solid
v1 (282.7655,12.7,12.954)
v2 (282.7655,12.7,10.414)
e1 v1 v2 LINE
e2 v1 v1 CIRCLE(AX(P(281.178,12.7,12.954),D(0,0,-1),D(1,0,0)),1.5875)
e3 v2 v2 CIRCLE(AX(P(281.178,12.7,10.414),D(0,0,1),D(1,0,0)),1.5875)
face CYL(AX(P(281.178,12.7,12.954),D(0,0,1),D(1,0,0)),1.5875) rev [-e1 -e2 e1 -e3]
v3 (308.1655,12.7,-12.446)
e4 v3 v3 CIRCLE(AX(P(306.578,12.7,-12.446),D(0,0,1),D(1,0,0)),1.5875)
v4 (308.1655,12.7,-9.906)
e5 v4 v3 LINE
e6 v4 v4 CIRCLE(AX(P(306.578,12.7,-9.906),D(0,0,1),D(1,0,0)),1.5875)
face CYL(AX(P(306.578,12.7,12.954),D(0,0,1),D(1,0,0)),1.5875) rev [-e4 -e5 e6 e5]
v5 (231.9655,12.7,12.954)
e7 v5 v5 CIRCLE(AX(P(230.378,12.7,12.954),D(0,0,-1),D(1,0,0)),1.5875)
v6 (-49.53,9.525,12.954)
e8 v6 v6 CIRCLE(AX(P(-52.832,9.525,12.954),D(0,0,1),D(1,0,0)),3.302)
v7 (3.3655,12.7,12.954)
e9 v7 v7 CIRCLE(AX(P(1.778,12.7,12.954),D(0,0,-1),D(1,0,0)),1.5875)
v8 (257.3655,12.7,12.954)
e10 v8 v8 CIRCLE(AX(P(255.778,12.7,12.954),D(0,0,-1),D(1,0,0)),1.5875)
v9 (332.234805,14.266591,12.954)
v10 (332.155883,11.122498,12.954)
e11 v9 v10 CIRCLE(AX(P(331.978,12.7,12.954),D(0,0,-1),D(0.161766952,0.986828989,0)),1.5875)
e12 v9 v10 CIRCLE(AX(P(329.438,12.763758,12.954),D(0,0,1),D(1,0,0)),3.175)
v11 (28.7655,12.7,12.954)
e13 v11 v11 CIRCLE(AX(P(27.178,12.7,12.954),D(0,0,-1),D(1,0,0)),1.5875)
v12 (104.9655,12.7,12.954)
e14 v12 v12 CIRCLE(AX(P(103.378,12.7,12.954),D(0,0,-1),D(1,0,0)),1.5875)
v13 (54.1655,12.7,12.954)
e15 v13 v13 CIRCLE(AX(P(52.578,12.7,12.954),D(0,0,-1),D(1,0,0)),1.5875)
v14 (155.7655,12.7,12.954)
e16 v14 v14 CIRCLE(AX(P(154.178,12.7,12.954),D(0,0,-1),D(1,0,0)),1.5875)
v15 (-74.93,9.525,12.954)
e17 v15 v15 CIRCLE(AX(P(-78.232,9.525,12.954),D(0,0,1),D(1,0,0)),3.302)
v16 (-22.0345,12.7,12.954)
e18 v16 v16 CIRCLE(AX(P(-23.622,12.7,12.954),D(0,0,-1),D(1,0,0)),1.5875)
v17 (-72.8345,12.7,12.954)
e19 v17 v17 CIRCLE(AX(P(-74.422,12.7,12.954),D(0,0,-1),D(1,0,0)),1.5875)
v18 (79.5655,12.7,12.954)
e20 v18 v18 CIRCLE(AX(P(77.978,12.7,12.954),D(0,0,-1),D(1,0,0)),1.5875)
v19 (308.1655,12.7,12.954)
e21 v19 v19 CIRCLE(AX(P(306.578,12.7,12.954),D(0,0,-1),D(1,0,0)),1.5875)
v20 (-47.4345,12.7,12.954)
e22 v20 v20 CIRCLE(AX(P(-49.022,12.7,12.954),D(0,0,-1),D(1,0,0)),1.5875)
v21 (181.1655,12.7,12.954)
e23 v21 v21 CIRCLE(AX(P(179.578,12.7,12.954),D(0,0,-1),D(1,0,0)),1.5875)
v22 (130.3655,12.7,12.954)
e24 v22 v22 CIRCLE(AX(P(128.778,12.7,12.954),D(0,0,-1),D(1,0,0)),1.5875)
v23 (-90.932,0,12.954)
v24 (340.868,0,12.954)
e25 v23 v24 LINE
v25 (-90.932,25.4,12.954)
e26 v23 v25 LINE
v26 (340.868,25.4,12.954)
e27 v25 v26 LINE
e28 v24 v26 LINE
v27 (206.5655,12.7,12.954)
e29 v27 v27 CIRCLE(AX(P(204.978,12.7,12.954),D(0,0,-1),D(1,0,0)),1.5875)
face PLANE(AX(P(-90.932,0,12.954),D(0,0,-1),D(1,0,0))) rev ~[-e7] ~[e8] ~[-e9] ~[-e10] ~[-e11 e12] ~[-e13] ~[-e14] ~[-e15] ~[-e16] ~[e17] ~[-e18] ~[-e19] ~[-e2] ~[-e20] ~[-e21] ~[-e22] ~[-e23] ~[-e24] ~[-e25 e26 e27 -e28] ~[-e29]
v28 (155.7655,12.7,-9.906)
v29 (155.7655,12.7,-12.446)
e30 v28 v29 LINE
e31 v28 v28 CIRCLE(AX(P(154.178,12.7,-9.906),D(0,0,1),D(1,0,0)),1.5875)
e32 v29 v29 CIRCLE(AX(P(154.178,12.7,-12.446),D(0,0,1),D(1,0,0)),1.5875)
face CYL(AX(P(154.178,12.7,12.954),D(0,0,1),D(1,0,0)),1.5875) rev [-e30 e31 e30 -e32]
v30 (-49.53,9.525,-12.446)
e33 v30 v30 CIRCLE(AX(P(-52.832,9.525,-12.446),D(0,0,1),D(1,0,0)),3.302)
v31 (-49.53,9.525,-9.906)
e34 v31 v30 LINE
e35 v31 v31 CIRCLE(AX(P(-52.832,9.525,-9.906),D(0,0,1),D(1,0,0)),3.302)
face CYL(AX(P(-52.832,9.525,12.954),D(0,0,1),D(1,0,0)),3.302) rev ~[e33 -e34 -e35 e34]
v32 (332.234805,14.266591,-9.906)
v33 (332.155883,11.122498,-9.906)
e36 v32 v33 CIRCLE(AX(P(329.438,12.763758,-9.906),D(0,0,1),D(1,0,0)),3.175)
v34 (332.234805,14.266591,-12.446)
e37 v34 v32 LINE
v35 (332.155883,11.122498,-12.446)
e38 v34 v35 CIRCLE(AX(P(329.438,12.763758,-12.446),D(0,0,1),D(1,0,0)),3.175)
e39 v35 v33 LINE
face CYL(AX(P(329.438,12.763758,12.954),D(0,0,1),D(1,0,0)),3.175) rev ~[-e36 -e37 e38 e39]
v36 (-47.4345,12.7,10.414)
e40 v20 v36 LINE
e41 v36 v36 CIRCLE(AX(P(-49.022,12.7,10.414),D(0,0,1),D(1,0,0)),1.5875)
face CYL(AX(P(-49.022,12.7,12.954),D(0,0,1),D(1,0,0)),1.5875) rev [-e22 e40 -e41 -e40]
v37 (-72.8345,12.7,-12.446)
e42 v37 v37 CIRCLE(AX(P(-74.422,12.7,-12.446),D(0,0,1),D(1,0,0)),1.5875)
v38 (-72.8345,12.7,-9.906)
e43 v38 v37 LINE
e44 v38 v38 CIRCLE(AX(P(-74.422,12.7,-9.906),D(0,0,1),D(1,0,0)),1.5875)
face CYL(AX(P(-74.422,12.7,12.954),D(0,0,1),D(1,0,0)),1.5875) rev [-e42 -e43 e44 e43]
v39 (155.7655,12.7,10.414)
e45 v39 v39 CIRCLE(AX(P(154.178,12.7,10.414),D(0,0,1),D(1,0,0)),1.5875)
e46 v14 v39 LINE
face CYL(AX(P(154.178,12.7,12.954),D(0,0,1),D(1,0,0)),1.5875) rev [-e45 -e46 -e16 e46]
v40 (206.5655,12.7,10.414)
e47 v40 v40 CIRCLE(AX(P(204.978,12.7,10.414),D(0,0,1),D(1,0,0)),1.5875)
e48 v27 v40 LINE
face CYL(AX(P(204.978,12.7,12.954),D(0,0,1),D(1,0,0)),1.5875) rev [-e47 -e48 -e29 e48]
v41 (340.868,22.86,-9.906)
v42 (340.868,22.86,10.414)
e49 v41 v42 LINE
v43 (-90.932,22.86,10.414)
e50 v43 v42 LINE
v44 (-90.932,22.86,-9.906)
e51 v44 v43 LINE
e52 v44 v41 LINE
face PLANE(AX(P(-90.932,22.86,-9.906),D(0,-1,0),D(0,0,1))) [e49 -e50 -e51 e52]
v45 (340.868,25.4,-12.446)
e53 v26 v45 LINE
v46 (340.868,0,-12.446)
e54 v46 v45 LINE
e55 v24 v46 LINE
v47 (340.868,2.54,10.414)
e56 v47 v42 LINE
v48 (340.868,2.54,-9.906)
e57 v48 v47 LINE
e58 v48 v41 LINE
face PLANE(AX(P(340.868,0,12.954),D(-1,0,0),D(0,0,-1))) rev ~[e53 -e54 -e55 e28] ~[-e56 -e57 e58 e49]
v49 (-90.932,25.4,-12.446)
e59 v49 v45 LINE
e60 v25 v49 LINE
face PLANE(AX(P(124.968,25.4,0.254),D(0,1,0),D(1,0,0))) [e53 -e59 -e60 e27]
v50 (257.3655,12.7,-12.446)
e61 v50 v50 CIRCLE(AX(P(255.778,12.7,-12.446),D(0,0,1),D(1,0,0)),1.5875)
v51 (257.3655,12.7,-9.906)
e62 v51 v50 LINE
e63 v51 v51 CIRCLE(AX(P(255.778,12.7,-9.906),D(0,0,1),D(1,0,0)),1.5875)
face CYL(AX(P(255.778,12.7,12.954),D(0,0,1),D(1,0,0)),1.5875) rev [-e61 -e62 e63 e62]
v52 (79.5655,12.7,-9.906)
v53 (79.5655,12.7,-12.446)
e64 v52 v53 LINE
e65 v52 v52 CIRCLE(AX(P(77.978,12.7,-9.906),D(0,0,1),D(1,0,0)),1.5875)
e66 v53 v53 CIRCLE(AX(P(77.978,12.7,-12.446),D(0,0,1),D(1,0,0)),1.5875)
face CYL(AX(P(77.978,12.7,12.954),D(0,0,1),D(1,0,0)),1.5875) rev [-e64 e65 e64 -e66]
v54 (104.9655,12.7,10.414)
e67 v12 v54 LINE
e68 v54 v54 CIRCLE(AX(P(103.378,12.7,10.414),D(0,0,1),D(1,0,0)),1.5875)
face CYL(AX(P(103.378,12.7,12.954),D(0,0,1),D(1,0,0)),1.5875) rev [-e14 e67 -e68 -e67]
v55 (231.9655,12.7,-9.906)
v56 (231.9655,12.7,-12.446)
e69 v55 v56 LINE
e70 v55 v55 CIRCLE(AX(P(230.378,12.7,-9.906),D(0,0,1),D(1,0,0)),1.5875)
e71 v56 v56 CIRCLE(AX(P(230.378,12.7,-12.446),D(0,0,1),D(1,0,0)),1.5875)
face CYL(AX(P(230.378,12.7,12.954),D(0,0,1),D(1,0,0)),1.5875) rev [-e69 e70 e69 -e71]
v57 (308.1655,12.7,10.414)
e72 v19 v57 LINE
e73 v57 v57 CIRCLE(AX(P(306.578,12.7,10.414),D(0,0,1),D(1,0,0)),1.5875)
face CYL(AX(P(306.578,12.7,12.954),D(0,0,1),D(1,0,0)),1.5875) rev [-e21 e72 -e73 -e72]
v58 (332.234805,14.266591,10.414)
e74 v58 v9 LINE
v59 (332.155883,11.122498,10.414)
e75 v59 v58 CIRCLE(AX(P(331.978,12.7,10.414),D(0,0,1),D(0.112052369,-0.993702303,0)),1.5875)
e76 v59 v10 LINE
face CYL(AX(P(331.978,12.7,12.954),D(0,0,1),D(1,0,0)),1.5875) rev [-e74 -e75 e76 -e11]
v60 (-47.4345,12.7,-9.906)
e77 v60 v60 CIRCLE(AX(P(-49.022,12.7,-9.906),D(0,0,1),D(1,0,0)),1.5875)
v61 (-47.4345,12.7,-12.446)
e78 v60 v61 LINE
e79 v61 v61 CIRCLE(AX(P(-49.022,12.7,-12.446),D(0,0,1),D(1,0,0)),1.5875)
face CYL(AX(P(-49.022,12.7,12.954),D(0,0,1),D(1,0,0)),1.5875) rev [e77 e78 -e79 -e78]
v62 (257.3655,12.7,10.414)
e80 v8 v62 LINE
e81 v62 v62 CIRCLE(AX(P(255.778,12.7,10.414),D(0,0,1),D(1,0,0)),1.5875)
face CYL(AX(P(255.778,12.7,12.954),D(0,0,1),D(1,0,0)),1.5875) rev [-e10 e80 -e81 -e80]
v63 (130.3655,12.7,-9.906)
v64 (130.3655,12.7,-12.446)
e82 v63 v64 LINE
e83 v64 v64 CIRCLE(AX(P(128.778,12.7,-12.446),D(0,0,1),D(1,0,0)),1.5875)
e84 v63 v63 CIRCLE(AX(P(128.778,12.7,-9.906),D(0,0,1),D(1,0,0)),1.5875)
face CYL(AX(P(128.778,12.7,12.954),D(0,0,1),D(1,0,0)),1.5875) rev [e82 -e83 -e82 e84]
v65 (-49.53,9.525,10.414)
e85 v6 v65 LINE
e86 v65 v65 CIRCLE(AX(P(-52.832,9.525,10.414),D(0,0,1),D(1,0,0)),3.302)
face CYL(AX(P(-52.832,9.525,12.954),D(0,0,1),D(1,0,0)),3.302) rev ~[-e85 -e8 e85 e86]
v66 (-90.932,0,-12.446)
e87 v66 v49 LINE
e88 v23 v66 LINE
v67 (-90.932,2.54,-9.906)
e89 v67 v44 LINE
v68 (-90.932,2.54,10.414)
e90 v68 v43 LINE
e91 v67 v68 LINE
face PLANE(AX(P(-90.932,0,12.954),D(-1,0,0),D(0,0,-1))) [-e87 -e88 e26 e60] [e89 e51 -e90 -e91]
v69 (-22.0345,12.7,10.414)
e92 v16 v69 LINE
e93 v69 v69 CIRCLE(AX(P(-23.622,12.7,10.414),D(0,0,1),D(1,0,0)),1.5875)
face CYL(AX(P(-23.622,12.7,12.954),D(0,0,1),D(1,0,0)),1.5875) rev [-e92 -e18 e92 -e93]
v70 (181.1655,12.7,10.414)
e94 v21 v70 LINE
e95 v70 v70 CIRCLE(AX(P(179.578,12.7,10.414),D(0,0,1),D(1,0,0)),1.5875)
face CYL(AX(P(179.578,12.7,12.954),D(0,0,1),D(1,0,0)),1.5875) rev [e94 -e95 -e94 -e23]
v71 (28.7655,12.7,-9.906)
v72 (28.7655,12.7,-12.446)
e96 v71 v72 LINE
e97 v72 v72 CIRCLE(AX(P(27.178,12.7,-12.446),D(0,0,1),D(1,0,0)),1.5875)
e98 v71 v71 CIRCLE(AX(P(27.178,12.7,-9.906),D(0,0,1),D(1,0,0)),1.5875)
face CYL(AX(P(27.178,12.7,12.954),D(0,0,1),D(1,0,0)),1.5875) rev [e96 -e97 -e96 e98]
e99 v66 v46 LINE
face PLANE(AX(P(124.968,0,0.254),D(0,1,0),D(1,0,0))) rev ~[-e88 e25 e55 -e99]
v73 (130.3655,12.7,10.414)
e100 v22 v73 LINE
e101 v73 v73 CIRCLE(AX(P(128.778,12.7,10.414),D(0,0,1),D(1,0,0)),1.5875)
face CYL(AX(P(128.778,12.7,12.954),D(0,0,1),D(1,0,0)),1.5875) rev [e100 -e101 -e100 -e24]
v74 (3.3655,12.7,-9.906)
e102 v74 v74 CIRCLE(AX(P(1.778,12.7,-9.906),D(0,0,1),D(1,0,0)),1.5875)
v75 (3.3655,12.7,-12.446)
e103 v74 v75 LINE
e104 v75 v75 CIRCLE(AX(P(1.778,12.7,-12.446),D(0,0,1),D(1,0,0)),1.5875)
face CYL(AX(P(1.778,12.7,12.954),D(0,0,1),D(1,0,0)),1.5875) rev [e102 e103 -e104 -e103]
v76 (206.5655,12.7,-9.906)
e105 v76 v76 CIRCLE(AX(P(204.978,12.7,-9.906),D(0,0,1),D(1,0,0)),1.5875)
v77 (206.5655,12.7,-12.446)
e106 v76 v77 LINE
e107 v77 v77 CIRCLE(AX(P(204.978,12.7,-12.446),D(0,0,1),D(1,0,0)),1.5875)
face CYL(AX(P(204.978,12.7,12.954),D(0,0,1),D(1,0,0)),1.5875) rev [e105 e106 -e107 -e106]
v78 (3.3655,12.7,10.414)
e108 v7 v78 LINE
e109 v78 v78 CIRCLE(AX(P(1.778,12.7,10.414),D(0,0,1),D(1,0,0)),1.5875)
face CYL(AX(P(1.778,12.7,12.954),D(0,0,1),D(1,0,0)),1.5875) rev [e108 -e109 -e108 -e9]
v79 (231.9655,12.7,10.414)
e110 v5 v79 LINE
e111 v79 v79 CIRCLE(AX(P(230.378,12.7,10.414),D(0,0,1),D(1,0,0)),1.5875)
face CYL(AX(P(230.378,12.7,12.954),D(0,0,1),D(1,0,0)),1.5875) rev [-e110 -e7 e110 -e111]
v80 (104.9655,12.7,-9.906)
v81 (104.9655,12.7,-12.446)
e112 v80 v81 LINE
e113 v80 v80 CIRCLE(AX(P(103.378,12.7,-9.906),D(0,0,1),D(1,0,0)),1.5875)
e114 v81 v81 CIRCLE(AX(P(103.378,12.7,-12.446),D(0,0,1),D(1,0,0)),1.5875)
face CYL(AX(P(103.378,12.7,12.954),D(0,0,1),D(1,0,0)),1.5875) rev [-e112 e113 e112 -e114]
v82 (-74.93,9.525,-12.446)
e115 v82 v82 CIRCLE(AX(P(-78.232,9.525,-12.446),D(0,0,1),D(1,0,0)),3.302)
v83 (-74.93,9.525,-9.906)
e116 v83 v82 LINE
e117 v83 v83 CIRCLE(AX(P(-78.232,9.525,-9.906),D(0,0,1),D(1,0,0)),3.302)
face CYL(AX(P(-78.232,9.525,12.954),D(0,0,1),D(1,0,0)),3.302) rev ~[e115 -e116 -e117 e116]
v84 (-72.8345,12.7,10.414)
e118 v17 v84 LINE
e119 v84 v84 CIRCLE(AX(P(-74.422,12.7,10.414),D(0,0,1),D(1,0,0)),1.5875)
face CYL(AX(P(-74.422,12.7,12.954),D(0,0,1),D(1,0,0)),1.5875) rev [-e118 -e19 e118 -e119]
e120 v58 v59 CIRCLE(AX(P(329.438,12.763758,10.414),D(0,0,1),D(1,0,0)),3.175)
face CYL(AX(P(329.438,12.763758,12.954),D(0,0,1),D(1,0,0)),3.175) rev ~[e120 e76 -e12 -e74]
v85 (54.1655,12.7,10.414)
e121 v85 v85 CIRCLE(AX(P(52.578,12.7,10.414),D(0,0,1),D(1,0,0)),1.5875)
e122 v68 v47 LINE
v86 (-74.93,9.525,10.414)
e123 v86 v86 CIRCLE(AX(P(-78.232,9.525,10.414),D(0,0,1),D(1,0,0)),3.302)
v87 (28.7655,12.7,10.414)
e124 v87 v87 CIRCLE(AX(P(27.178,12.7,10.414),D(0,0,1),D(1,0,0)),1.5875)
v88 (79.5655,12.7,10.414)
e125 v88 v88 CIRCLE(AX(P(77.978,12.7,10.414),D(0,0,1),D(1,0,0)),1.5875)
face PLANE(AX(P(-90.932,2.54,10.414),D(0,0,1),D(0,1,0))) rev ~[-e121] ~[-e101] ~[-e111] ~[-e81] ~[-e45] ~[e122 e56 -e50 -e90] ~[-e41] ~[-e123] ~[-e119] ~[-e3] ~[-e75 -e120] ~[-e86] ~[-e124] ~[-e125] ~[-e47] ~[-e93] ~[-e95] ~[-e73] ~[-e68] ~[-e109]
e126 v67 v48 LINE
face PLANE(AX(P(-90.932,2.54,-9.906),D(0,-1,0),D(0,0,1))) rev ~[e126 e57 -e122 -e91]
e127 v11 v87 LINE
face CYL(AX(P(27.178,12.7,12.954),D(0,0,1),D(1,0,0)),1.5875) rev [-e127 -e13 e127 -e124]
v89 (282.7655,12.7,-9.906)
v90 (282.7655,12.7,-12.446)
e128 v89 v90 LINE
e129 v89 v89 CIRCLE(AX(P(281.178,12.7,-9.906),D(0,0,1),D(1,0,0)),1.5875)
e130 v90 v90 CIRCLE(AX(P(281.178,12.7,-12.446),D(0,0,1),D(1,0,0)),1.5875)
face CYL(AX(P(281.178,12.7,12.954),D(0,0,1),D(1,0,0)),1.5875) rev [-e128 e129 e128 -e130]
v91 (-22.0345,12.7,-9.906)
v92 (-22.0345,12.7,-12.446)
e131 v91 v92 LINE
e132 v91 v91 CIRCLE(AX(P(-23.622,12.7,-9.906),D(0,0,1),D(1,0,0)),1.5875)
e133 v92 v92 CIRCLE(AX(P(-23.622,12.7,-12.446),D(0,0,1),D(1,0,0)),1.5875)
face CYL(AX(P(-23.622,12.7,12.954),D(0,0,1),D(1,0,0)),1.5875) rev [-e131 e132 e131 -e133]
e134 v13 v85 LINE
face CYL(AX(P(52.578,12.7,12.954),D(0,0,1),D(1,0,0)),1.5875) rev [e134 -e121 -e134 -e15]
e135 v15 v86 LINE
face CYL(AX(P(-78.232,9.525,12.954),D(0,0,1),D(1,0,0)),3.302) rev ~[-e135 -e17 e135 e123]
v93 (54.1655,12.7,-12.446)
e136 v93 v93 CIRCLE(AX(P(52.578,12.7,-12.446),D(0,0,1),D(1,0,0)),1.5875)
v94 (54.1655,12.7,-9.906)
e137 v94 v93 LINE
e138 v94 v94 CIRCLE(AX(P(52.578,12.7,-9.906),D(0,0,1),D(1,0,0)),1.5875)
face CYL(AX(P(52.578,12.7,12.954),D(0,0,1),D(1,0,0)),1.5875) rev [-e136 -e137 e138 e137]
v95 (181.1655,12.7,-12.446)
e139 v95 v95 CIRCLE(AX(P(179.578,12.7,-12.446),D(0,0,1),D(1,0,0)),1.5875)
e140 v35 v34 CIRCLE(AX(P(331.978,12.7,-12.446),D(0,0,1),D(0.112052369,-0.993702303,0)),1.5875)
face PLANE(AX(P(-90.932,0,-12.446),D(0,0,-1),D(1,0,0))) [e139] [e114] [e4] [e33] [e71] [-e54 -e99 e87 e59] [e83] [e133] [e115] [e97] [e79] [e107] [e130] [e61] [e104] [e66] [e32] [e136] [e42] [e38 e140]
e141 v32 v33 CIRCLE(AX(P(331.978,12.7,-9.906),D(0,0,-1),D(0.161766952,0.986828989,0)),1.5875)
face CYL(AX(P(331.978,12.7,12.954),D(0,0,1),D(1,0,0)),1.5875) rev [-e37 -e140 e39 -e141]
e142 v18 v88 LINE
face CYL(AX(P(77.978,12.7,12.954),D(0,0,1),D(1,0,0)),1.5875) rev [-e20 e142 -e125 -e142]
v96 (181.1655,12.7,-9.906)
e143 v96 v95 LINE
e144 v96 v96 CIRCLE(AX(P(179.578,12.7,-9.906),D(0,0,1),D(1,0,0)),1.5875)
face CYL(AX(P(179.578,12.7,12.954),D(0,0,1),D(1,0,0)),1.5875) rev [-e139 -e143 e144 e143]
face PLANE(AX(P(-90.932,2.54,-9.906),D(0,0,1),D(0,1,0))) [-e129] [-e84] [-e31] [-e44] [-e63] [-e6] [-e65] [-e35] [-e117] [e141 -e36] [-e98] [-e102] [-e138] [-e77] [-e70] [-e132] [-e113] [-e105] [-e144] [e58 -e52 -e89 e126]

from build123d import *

# Parameters (mm, degrees)
SKETCH1_W           = 431.8
SKETCH1_H           = 25.4
BOSS_EXTRUDE1_DEPTH = 25.4
SKETCH2_W           = 20.32
SKETCH2_H           = 20.32
CUT_EXTRUDE1_DEPTH  = 433.740344914
CUT_EXTRUDE2_REACH  = 344.058
SKETCH3_R           = 1.5875
CUT_EXTRUDE3_REACH  = 344.755
SKETCH4_R           = 3.175
SKETCH4_R_2         = 3.302


with BuildPart() as part:
    # Sketch1 → Boss-Extrude1 (new body)
    with BuildSketch(Plane(origin=(0, 0, 0), x_dir=(1, 0, 0), z_dir=(0, 1, 0))):
        with Locations((124.968, -0.254)):
            Rectangle(SKETCH1_W, SKETCH1_H)
    extrude(amount=BOSS_EXTRUDE1_DEPTH)

    # Sketch2 → Cut-Extrude1 (cut, through all)
    with BuildSketch(Plane.ZY.offset(90.932)):
        with Locations((0.254, 12.7)):
            Rectangle(SKETCH2_W, SKETCH2_H)
    extrude(amount=-CUT_EXTRUDE1_DEPTH, mode=Mode.SUBTRACT)

    # Cut-Extrude2: up to this face of the body (flat: up to its plane)
    cut_extrude2_end = Plane(part.part.faces().sort_by_distance((124.968, 12.7, -12.446))[0])
    # Sketch3 → Cut-Extrude2 (cut, up to the picked face)
    with BuildSketch(Plane(origin=(0, 12.446, 12.954), x_dir=(1, 0, 0), z_dir=(0, 0, -1)), mode=Mode.PRIVATE) as cut_extrude2_sk1:
        with Locations((-74.422, -0.254)):
            Circle(SKETCH3_R)
    cut_extrude2_tool1 = split(extrude(cut_extrude2_sk1.sketch, amount=CUT_EXTRUDE2_REACH, mode=Mode.PRIVATE), bisect_by=cut_extrude2_end, keep=Keep.BOTH, mode=Mode.PRIVATE)
    # Sketch3 → Cut-Extrude2 (cut, up to the picked face)
    with BuildSketch(Plane(origin=(0, 12.446, 12.954), x_dir=(1, 0, 0), z_dir=(0, 0, -1)), mode=Mode.PRIVATE) as cut_extrude2_sk2:
        with Locations((-49.022, -0.254)):
            Circle(SKETCH3_R)
    cut_extrude2_tool2 = split(extrude(cut_extrude2_sk2.sketch, amount=CUT_EXTRUDE2_REACH, mode=Mode.PRIVATE), bisect_by=cut_extrude2_end, keep=Keep.BOTH, mode=Mode.PRIVATE)
    # Sketch3 → Cut-Extrude2 (cut, up to the picked face)
    with BuildSketch(Plane(origin=(0, 12.446, 12.954), x_dir=(1, 0, 0), z_dir=(0, 0, -1)), mode=Mode.PRIVATE) as cut_extrude2_sk3:
        with Locations((-23.622, -0.254)):
            Circle(SKETCH3_R)
    cut_extrude2_tool3 = split(extrude(cut_extrude2_sk3.sketch, amount=CUT_EXTRUDE2_REACH, mode=Mode.PRIVATE), bisect_by=cut_extrude2_end, keep=Keep.BOTH, mode=Mode.PRIVATE)
    # Sketch3 → Cut-Extrude2 (cut, up to the picked face)
    with BuildSketch(Plane(origin=(0, 12.446, 12.954), x_dir=(1, 0, 0), z_dir=(0, 0, -1)), mode=Mode.PRIVATE) as cut_extrude2_sk4:
        with Locations((1.778, -0.254)):
            Circle(SKETCH3_R)
    cut_extrude2_tool4 = split(extrude(cut_extrude2_sk4.sketch, amount=CUT_EXTRUDE2_REACH, mode=Mode.PRIVATE), bisect_by=cut_extrude2_end, keep=Keep.BOTH, mode=Mode.PRIVATE)
    # Sketch3 → Cut-Extrude2 (cut, up to the picked face)
    with BuildSketch(Plane(origin=(0, 12.446, 12.954), x_dir=(1, 0, 0), z_dir=(0, 0, -1)), mode=Mode.PRIVATE) as cut_extrude2_sk5:
        with Locations((27.178, -0.254)):
            Circle(SKETCH3_R)
    cut_extrude2_tool5 = split(extrude(cut_extrude2_sk5.sketch, amount=CUT_EXTRUDE2_REACH, mode=Mode.PRIVATE), bisect_by=cut_extrude2_end, keep=Keep.BOTH, mode=Mode.PRIVATE)
    # Sketch3 → Cut-Extrude2 (cut, up to the picked face)
    with BuildSketch(Plane(origin=(0, 12.446, 12.954), x_dir=(1, 0, 0), z_dir=(0, 0, -1)), mode=Mode.PRIVATE) as cut_extrude2_sk6:
        with Locations((52.578, -0.254)):
            Circle(SKETCH3_R)
    cut_extrude2_tool6 = split(extrude(cut_extrude2_sk6.sketch, amount=CUT_EXTRUDE2_REACH, mode=Mode.PRIVATE), bisect_by=cut_extrude2_end, keep=Keep.BOTH, mode=Mode.PRIVATE)
    # Sketch3 → Cut-Extrude2 (cut, up to the picked face)
    with BuildSketch(Plane(origin=(0, 12.446, 12.954), x_dir=(1, 0, 0), z_dir=(0, 0, -1)), mode=Mode.PRIVATE) as cut_extrude2_sk7:
        with Locations((77.978, -0.254)):
            Circle(SKETCH3_R)
    cut_extrude2_tool7 = split(extrude(cut_extrude2_sk7.sketch, amount=CUT_EXTRUDE2_REACH, mode=Mode.PRIVATE), bisect_by=cut_extrude2_end, keep=Keep.BOTH, mode=Mode.PRIVATE)
    # Sketch3 → Cut-Extrude2 (cut, up to the picked face)
    with BuildSketch(Plane(origin=(0, 12.446, 12.954), x_dir=(1, 0, 0), z_dir=(0, 0, -1)), mode=Mode.PRIVATE) as cut_extrude2_sk8:
        with Locations((103.378, -0.254)):
            Circle(SKETCH3_R)
    cut_extrude2_tool8 = split(extrude(cut_extrude2_sk8.sketch, amount=CUT_EXTRUDE2_REACH, mode=Mode.PRIVATE), bisect_by=cut_extrude2_end, keep=Keep.BOTH, mode=Mode.PRIVATE)
    # Sketch3 → Cut-Extrude2 (cut, up to the picked face)
    with BuildSketch(Plane(origin=(0, 12.446, 12.954), x_dir=(1, 0, 0), z_dir=(0, 0, -1)), mode=Mode.PRIVATE) as cut_extrude2_sk9:
        with Locations((128.778, -0.254)):
            Circle(SKETCH3_R)
    cut_extrude2_tool9 = split(extrude(cut_extrude2_sk9.sketch, amount=CUT_EXTRUDE2_REACH, mode=Mode.PRIVATE), bisect_by=cut_extrude2_end, keep=Keep.BOTH, mode=Mode.PRIVATE)
    # Sketch3 → Cut-Extrude2 (cut, up to the picked face)
    with BuildSketch(Plane(origin=(0, 12.446, 12.954), x_dir=(1, 0, 0), z_dir=(0, 0, -1)), mode=Mode.PRIVATE) as cut_extrude2_sk10:
        with Locations((154.178, -0.254)):
            Circle(SKETCH3_R)
    cut_extrude2_tool10 = split(extrude(cut_extrude2_sk10.sketch, amount=CUT_EXTRUDE2_REACH, mode=Mode.PRIVATE), bisect_by=cut_extrude2_end, keep=Keep.BOTH, mode=Mode.PRIVATE)
    # Sketch3 → Cut-Extrude2 (cut, up to the picked face)
    with BuildSketch(Plane(origin=(0, 12.446, 12.954), x_dir=(1, 0, 0), z_dir=(0, 0, -1)), mode=Mode.PRIVATE) as cut_extrude2_sk11:
        with Locations((179.578, -0.254)):
            Circle(SKETCH3_R)
    cut_extrude2_tool11 = split(extrude(cut_extrude2_sk11.sketch, amount=CUT_EXTRUDE2_REACH, mode=Mode.PRIVATE), bisect_by=cut_extrude2_end, keep=Keep.BOTH, mode=Mode.PRIVATE)
    # Sketch3 → Cut-Extrude2 (cut, up to the picked face)
    with BuildSketch(Plane(origin=(0, 12.446, 12.954), x_dir=(1, 0, 0), z_dir=(0, 0, -1)), mode=Mode.PRIVATE) as cut_extrude2_sk12:
        with Locations((204.978, -0.254)):
            Circle(SKETCH3_R)
    cut_extrude2_tool12 = split(extrude(cut_extrude2_sk12.sketch, amount=CUT_EXTRUDE2_REACH, mode=Mode.PRIVATE), bisect_by=cut_extrude2_end, keep=Keep.BOTH, mode=Mode.PRIVATE)
    # Sketch3 → Cut-Extrude2 (cut, up to the picked face)
    with BuildSketch(Plane(origin=(0, 12.446, 12.954), x_dir=(1, 0, 0), z_dir=(0, 0, -1)), mode=Mode.PRIVATE) as cut_extrude2_sk13:
        with Locations((230.378, -0.254)):
            Circle(SKETCH3_R)
    cut_extrude2_tool13 = split(extrude(cut_extrude2_sk13.sketch, amount=CUT_EXTRUDE2_REACH, mode=Mode.PRIVATE), bisect_by=cut_extrude2_end, keep=Keep.BOTH, mode=Mode.PRIVATE)
    # Sketch3 → Cut-Extrude2 (cut, up to the picked face)
    with BuildSketch(Plane(origin=(0, 12.446, 12.954), x_dir=(1, 0, 0), z_dir=(0, 0, -1)), mode=Mode.PRIVATE) as cut_extrude2_sk14:
        with Locations((255.778, -0.254)):
            Circle(SKETCH3_R)
    cut_extrude2_tool14 = split(extrude(cut_extrude2_sk14.sketch, amount=CUT_EXTRUDE2_REACH, mode=Mode.PRIVATE), bisect_by=cut_extrude2_end, keep=Keep.BOTH, mode=Mode.PRIVATE)
    # Sketch3 → Cut-Extrude2 (cut, up to the picked face)
    with BuildSketch(Plane(origin=(0, 12.446, 12.954), x_dir=(1, 0, 0), z_dir=(0, 0, -1)), mode=Mode.PRIVATE) as cut_extrude2_sk15:
        with Locations((281.178, -0.254)):
            Circle(SKETCH3_R)
    cut_extrude2_tool15 = split(extrude(cut_extrude2_sk15.sketch, amount=CUT_EXTRUDE2_REACH, mode=Mode.PRIVATE), bisect_by=cut_extrude2_end, keep=Keep.BOTH, mode=Mode.PRIVATE)
    # Sketch3 → Cut-Extrude2 (cut, up to the picked face)
    with BuildSketch(Plane(origin=(0, 12.446, 12.954), x_dir=(1, 0, 0), z_dir=(0, 0, -1)), mode=Mode.PRIVATE) as cut_extrude2_sk16:
        with Locations((306.578, -0.254)):
            Circle(SKETCH3_R)
    cut_extrude2_tool16 = split(extrude(cut_extrude2_sk16.sketch, amount=CUT_EXTRUDE2_REACH, mode=Mode.PRIVATE), bisect_by=cut_extrude2_end, keep=Keep.BOTH, mode=Mode.PRIVATE)
    # Sketch3 → Cut-Extrude2 (cut, up to the picked face)
    with BuildSketch(Plane(origin=(0, 12.446, 12.954), x_dir=(1, 0, 0), z_dir=(0, 0, -1)), mode=Mode.PRIVATE) as cut_extrude2_sk17:
        with Locations((331.978, -0.254)):
            Circle(SKETCH3_R)
    cut_extrude2_tool17 = split(extrude(cut_extrude2_sk17.sketch, amount=CUT_EXTRUDE2_REACH, mode=Mode.PRIVATE), bisect_by=cut_extrude2_end, keep=Keep.BOTH, mode=Mode.PRIVATE)
    add(cut_extrude2_tool1.solids().sort_by(Axis((-74.422, 12.7, 12.954), (0, 0, -1)))[0], mode=Mode.SUBTRACT)
    add(cut_extrude2_tool2.solids().sort_by(Axis((-49.022, 12.7, 12.954), (0, 0, -1)))[0], mode=Mode.SUBTRACT)
    add(cut_extrude2_tool3.solids().sort_by(Axis((-23.622, 12.7, 12.954), (0, 0, -1)))[0], mode=Mode.SUBTRACT)
    add(cut_extrude2_tool4.solids().sort_by(Axis((1.778, 12.7, 12.954), (0, 0, -1)))[0], mode=Mode.SUBTRACT)
    add(cut_extrude2_tool5.solids().sort_by(Axis((27.178, 12.7, 12.954), (0, 0, -1)))[0], mode=Mode.SUBTRACT)
    add(cut_extrude2_tool6.solids().sort_by(Axis((52.578, 12.7, 12.954), (0, 0, -1)))[0], mode=Mode.SUBTRACT)
    add(cut_extrude2_tool7.solids().sort_by(Axis((77.978, 12.7, 12.954), (0, 0, -1)))[0], mode=Mode.SUBTRACT)
    add(cut_extrude2_tool8.solids().sort_by(Axis((103.378, 12.7, 12.954), (0, 0, -1)))[0], mode=Mode.SUBTRACT)
    add(cut_extrude2_tool9.solids().sort_by(Axis((128.778, 12.7, 12.954), (0, 0, -1)))[0], mode=Mode.SUBTRACT)
    add(cut_extrude2_tool10.solids().sort_by(Axis((154.178, 12.7, 12.954), (0, 0, -1)))[0], mode=Mode.SUBTRACT)
    add(cut_extrude2_tool11.solids().sort_by(Axis((179.578, 12.7, 12.954), (0, 0, -1)))[0], mode=Mode.SUBTRACT)
    add(cut_extrude2_tool12.solids().sort_by(Axis((204.978, 12.7, 12.954), (0, 0, -1)))[0], mode=Mode.SUBTRACT)
    add(cut_extrude2_tool13.solids().sort_by(Axis((230.378, 12.7, 12.954), (0, 0, -1)))[0], mode=Mode.SUBTRACT)
    add(cut_extrude2_tool14.solids().sort_by(Axis((255.778, 12.7, 12.954), (0, 0, -1)))[0], mode=Mode.SUBTRACT)
    add(cut_extrude2_tool15.solids().sort_by(Axis((281.178, 12.7, 12.954), (0, 0, -1)))[0], mode=Mode.SUBTRACT)
    add(cut_extrude2_tool16.solids().sort_by(Axis((306.578, 12.7, 12.954), (0, 0, -1)))[0], mode=Mode.SUBTRACT)
    add(cut_extrude2_tool17.solids().sort_by(Axis((331.978, 12.7, 12.954), (0, 0, -1)))[0], mode=Mode.SUBTRACT)

    # Cut-Extrude3: up to this face of the body (flat: up to its plane)
    cut_extrude3_end = Plane(part.part.faces().sort_by_distance((124.920663358, 12.7, -12.446))[0])
    # Sketch4 → Cut-Extrude3 (cut, up to the picked face)
    with BuildSketch(Plane.XY.offset(12.954), mode=Mode.PRIVATE) as cut_extrude3_sk1:
        with Locations((329.438, 12.763758165)):
            Circle(SKETCH4_R)
    cut_extrude3_tool1 = split(extrude(cut_extrude3_sk1.sketch, amount=-CUT_EXTRUDE3_REACH, mode=Mode.PRIVATE), bisect_by=cut_extrude3_end, keep=Keep.BOTH, mode=Mode.PRIVATE)
    # Sketch4 → Cut-Extrude3 (cut, up to the picked face)
    with BuildSketch(Plane.XY.offset(12.954), mode=Mode.PRIVATE) as cut_extrude3_sk2:
        with Locations((-78.232, 9.525)):
            Circle(SKETCH4_R_2)
    cut_extrude3_tool2 = split(extrude(cut_extrude3_sk2.sketch, amount=-CUT_EXTRUDE3_REACH, mode=Mode.PRIVATE), bisect_by=cut_extrude3_end, keep=Keep.BOTH, mode=Mode.PRIVATE)
    # Sketch4 → Cut-Extrude3 (cut, up to the picked face)
    with BuildSketch(Plane.XY.offset(12.954), mode=Mode.PRIVATE) as cut_extrude3_sk3:
        with Locations((-52.832, 9.525)):
            Circle(SKETCH4_R_2)
    cut_extrude3_tool3 = split(extrude(cut_extrude3_sk3.sketch, amount=-CUT_EXTRUDE3_REACH, mode=Mode.PRIVATE), bisect_by=cut_extrude3_end, keep=Keep.BOTH, mode=Mode.PRIVATE)
    add(cut_extrude3_tool1.solids().sort_by(Axis((329.438, 12.763758, 12.954), (0, 0, -1)))[0], mode=Mode.SUBTRACT)
    add(cut_extrude3_tool2.solids().sort_by(Axis((-78.232, 9.525, 12.954), (0, 0, -1)))[0], mode=Mode.SUBTRACT)
    add(cut_extrude3_tool3.solids().sort_by(Axis((-52.832, 9.525, 12.954), (0, 0, -1)))[0], mode=Mode.SUBTRACT)


solid = part.part
